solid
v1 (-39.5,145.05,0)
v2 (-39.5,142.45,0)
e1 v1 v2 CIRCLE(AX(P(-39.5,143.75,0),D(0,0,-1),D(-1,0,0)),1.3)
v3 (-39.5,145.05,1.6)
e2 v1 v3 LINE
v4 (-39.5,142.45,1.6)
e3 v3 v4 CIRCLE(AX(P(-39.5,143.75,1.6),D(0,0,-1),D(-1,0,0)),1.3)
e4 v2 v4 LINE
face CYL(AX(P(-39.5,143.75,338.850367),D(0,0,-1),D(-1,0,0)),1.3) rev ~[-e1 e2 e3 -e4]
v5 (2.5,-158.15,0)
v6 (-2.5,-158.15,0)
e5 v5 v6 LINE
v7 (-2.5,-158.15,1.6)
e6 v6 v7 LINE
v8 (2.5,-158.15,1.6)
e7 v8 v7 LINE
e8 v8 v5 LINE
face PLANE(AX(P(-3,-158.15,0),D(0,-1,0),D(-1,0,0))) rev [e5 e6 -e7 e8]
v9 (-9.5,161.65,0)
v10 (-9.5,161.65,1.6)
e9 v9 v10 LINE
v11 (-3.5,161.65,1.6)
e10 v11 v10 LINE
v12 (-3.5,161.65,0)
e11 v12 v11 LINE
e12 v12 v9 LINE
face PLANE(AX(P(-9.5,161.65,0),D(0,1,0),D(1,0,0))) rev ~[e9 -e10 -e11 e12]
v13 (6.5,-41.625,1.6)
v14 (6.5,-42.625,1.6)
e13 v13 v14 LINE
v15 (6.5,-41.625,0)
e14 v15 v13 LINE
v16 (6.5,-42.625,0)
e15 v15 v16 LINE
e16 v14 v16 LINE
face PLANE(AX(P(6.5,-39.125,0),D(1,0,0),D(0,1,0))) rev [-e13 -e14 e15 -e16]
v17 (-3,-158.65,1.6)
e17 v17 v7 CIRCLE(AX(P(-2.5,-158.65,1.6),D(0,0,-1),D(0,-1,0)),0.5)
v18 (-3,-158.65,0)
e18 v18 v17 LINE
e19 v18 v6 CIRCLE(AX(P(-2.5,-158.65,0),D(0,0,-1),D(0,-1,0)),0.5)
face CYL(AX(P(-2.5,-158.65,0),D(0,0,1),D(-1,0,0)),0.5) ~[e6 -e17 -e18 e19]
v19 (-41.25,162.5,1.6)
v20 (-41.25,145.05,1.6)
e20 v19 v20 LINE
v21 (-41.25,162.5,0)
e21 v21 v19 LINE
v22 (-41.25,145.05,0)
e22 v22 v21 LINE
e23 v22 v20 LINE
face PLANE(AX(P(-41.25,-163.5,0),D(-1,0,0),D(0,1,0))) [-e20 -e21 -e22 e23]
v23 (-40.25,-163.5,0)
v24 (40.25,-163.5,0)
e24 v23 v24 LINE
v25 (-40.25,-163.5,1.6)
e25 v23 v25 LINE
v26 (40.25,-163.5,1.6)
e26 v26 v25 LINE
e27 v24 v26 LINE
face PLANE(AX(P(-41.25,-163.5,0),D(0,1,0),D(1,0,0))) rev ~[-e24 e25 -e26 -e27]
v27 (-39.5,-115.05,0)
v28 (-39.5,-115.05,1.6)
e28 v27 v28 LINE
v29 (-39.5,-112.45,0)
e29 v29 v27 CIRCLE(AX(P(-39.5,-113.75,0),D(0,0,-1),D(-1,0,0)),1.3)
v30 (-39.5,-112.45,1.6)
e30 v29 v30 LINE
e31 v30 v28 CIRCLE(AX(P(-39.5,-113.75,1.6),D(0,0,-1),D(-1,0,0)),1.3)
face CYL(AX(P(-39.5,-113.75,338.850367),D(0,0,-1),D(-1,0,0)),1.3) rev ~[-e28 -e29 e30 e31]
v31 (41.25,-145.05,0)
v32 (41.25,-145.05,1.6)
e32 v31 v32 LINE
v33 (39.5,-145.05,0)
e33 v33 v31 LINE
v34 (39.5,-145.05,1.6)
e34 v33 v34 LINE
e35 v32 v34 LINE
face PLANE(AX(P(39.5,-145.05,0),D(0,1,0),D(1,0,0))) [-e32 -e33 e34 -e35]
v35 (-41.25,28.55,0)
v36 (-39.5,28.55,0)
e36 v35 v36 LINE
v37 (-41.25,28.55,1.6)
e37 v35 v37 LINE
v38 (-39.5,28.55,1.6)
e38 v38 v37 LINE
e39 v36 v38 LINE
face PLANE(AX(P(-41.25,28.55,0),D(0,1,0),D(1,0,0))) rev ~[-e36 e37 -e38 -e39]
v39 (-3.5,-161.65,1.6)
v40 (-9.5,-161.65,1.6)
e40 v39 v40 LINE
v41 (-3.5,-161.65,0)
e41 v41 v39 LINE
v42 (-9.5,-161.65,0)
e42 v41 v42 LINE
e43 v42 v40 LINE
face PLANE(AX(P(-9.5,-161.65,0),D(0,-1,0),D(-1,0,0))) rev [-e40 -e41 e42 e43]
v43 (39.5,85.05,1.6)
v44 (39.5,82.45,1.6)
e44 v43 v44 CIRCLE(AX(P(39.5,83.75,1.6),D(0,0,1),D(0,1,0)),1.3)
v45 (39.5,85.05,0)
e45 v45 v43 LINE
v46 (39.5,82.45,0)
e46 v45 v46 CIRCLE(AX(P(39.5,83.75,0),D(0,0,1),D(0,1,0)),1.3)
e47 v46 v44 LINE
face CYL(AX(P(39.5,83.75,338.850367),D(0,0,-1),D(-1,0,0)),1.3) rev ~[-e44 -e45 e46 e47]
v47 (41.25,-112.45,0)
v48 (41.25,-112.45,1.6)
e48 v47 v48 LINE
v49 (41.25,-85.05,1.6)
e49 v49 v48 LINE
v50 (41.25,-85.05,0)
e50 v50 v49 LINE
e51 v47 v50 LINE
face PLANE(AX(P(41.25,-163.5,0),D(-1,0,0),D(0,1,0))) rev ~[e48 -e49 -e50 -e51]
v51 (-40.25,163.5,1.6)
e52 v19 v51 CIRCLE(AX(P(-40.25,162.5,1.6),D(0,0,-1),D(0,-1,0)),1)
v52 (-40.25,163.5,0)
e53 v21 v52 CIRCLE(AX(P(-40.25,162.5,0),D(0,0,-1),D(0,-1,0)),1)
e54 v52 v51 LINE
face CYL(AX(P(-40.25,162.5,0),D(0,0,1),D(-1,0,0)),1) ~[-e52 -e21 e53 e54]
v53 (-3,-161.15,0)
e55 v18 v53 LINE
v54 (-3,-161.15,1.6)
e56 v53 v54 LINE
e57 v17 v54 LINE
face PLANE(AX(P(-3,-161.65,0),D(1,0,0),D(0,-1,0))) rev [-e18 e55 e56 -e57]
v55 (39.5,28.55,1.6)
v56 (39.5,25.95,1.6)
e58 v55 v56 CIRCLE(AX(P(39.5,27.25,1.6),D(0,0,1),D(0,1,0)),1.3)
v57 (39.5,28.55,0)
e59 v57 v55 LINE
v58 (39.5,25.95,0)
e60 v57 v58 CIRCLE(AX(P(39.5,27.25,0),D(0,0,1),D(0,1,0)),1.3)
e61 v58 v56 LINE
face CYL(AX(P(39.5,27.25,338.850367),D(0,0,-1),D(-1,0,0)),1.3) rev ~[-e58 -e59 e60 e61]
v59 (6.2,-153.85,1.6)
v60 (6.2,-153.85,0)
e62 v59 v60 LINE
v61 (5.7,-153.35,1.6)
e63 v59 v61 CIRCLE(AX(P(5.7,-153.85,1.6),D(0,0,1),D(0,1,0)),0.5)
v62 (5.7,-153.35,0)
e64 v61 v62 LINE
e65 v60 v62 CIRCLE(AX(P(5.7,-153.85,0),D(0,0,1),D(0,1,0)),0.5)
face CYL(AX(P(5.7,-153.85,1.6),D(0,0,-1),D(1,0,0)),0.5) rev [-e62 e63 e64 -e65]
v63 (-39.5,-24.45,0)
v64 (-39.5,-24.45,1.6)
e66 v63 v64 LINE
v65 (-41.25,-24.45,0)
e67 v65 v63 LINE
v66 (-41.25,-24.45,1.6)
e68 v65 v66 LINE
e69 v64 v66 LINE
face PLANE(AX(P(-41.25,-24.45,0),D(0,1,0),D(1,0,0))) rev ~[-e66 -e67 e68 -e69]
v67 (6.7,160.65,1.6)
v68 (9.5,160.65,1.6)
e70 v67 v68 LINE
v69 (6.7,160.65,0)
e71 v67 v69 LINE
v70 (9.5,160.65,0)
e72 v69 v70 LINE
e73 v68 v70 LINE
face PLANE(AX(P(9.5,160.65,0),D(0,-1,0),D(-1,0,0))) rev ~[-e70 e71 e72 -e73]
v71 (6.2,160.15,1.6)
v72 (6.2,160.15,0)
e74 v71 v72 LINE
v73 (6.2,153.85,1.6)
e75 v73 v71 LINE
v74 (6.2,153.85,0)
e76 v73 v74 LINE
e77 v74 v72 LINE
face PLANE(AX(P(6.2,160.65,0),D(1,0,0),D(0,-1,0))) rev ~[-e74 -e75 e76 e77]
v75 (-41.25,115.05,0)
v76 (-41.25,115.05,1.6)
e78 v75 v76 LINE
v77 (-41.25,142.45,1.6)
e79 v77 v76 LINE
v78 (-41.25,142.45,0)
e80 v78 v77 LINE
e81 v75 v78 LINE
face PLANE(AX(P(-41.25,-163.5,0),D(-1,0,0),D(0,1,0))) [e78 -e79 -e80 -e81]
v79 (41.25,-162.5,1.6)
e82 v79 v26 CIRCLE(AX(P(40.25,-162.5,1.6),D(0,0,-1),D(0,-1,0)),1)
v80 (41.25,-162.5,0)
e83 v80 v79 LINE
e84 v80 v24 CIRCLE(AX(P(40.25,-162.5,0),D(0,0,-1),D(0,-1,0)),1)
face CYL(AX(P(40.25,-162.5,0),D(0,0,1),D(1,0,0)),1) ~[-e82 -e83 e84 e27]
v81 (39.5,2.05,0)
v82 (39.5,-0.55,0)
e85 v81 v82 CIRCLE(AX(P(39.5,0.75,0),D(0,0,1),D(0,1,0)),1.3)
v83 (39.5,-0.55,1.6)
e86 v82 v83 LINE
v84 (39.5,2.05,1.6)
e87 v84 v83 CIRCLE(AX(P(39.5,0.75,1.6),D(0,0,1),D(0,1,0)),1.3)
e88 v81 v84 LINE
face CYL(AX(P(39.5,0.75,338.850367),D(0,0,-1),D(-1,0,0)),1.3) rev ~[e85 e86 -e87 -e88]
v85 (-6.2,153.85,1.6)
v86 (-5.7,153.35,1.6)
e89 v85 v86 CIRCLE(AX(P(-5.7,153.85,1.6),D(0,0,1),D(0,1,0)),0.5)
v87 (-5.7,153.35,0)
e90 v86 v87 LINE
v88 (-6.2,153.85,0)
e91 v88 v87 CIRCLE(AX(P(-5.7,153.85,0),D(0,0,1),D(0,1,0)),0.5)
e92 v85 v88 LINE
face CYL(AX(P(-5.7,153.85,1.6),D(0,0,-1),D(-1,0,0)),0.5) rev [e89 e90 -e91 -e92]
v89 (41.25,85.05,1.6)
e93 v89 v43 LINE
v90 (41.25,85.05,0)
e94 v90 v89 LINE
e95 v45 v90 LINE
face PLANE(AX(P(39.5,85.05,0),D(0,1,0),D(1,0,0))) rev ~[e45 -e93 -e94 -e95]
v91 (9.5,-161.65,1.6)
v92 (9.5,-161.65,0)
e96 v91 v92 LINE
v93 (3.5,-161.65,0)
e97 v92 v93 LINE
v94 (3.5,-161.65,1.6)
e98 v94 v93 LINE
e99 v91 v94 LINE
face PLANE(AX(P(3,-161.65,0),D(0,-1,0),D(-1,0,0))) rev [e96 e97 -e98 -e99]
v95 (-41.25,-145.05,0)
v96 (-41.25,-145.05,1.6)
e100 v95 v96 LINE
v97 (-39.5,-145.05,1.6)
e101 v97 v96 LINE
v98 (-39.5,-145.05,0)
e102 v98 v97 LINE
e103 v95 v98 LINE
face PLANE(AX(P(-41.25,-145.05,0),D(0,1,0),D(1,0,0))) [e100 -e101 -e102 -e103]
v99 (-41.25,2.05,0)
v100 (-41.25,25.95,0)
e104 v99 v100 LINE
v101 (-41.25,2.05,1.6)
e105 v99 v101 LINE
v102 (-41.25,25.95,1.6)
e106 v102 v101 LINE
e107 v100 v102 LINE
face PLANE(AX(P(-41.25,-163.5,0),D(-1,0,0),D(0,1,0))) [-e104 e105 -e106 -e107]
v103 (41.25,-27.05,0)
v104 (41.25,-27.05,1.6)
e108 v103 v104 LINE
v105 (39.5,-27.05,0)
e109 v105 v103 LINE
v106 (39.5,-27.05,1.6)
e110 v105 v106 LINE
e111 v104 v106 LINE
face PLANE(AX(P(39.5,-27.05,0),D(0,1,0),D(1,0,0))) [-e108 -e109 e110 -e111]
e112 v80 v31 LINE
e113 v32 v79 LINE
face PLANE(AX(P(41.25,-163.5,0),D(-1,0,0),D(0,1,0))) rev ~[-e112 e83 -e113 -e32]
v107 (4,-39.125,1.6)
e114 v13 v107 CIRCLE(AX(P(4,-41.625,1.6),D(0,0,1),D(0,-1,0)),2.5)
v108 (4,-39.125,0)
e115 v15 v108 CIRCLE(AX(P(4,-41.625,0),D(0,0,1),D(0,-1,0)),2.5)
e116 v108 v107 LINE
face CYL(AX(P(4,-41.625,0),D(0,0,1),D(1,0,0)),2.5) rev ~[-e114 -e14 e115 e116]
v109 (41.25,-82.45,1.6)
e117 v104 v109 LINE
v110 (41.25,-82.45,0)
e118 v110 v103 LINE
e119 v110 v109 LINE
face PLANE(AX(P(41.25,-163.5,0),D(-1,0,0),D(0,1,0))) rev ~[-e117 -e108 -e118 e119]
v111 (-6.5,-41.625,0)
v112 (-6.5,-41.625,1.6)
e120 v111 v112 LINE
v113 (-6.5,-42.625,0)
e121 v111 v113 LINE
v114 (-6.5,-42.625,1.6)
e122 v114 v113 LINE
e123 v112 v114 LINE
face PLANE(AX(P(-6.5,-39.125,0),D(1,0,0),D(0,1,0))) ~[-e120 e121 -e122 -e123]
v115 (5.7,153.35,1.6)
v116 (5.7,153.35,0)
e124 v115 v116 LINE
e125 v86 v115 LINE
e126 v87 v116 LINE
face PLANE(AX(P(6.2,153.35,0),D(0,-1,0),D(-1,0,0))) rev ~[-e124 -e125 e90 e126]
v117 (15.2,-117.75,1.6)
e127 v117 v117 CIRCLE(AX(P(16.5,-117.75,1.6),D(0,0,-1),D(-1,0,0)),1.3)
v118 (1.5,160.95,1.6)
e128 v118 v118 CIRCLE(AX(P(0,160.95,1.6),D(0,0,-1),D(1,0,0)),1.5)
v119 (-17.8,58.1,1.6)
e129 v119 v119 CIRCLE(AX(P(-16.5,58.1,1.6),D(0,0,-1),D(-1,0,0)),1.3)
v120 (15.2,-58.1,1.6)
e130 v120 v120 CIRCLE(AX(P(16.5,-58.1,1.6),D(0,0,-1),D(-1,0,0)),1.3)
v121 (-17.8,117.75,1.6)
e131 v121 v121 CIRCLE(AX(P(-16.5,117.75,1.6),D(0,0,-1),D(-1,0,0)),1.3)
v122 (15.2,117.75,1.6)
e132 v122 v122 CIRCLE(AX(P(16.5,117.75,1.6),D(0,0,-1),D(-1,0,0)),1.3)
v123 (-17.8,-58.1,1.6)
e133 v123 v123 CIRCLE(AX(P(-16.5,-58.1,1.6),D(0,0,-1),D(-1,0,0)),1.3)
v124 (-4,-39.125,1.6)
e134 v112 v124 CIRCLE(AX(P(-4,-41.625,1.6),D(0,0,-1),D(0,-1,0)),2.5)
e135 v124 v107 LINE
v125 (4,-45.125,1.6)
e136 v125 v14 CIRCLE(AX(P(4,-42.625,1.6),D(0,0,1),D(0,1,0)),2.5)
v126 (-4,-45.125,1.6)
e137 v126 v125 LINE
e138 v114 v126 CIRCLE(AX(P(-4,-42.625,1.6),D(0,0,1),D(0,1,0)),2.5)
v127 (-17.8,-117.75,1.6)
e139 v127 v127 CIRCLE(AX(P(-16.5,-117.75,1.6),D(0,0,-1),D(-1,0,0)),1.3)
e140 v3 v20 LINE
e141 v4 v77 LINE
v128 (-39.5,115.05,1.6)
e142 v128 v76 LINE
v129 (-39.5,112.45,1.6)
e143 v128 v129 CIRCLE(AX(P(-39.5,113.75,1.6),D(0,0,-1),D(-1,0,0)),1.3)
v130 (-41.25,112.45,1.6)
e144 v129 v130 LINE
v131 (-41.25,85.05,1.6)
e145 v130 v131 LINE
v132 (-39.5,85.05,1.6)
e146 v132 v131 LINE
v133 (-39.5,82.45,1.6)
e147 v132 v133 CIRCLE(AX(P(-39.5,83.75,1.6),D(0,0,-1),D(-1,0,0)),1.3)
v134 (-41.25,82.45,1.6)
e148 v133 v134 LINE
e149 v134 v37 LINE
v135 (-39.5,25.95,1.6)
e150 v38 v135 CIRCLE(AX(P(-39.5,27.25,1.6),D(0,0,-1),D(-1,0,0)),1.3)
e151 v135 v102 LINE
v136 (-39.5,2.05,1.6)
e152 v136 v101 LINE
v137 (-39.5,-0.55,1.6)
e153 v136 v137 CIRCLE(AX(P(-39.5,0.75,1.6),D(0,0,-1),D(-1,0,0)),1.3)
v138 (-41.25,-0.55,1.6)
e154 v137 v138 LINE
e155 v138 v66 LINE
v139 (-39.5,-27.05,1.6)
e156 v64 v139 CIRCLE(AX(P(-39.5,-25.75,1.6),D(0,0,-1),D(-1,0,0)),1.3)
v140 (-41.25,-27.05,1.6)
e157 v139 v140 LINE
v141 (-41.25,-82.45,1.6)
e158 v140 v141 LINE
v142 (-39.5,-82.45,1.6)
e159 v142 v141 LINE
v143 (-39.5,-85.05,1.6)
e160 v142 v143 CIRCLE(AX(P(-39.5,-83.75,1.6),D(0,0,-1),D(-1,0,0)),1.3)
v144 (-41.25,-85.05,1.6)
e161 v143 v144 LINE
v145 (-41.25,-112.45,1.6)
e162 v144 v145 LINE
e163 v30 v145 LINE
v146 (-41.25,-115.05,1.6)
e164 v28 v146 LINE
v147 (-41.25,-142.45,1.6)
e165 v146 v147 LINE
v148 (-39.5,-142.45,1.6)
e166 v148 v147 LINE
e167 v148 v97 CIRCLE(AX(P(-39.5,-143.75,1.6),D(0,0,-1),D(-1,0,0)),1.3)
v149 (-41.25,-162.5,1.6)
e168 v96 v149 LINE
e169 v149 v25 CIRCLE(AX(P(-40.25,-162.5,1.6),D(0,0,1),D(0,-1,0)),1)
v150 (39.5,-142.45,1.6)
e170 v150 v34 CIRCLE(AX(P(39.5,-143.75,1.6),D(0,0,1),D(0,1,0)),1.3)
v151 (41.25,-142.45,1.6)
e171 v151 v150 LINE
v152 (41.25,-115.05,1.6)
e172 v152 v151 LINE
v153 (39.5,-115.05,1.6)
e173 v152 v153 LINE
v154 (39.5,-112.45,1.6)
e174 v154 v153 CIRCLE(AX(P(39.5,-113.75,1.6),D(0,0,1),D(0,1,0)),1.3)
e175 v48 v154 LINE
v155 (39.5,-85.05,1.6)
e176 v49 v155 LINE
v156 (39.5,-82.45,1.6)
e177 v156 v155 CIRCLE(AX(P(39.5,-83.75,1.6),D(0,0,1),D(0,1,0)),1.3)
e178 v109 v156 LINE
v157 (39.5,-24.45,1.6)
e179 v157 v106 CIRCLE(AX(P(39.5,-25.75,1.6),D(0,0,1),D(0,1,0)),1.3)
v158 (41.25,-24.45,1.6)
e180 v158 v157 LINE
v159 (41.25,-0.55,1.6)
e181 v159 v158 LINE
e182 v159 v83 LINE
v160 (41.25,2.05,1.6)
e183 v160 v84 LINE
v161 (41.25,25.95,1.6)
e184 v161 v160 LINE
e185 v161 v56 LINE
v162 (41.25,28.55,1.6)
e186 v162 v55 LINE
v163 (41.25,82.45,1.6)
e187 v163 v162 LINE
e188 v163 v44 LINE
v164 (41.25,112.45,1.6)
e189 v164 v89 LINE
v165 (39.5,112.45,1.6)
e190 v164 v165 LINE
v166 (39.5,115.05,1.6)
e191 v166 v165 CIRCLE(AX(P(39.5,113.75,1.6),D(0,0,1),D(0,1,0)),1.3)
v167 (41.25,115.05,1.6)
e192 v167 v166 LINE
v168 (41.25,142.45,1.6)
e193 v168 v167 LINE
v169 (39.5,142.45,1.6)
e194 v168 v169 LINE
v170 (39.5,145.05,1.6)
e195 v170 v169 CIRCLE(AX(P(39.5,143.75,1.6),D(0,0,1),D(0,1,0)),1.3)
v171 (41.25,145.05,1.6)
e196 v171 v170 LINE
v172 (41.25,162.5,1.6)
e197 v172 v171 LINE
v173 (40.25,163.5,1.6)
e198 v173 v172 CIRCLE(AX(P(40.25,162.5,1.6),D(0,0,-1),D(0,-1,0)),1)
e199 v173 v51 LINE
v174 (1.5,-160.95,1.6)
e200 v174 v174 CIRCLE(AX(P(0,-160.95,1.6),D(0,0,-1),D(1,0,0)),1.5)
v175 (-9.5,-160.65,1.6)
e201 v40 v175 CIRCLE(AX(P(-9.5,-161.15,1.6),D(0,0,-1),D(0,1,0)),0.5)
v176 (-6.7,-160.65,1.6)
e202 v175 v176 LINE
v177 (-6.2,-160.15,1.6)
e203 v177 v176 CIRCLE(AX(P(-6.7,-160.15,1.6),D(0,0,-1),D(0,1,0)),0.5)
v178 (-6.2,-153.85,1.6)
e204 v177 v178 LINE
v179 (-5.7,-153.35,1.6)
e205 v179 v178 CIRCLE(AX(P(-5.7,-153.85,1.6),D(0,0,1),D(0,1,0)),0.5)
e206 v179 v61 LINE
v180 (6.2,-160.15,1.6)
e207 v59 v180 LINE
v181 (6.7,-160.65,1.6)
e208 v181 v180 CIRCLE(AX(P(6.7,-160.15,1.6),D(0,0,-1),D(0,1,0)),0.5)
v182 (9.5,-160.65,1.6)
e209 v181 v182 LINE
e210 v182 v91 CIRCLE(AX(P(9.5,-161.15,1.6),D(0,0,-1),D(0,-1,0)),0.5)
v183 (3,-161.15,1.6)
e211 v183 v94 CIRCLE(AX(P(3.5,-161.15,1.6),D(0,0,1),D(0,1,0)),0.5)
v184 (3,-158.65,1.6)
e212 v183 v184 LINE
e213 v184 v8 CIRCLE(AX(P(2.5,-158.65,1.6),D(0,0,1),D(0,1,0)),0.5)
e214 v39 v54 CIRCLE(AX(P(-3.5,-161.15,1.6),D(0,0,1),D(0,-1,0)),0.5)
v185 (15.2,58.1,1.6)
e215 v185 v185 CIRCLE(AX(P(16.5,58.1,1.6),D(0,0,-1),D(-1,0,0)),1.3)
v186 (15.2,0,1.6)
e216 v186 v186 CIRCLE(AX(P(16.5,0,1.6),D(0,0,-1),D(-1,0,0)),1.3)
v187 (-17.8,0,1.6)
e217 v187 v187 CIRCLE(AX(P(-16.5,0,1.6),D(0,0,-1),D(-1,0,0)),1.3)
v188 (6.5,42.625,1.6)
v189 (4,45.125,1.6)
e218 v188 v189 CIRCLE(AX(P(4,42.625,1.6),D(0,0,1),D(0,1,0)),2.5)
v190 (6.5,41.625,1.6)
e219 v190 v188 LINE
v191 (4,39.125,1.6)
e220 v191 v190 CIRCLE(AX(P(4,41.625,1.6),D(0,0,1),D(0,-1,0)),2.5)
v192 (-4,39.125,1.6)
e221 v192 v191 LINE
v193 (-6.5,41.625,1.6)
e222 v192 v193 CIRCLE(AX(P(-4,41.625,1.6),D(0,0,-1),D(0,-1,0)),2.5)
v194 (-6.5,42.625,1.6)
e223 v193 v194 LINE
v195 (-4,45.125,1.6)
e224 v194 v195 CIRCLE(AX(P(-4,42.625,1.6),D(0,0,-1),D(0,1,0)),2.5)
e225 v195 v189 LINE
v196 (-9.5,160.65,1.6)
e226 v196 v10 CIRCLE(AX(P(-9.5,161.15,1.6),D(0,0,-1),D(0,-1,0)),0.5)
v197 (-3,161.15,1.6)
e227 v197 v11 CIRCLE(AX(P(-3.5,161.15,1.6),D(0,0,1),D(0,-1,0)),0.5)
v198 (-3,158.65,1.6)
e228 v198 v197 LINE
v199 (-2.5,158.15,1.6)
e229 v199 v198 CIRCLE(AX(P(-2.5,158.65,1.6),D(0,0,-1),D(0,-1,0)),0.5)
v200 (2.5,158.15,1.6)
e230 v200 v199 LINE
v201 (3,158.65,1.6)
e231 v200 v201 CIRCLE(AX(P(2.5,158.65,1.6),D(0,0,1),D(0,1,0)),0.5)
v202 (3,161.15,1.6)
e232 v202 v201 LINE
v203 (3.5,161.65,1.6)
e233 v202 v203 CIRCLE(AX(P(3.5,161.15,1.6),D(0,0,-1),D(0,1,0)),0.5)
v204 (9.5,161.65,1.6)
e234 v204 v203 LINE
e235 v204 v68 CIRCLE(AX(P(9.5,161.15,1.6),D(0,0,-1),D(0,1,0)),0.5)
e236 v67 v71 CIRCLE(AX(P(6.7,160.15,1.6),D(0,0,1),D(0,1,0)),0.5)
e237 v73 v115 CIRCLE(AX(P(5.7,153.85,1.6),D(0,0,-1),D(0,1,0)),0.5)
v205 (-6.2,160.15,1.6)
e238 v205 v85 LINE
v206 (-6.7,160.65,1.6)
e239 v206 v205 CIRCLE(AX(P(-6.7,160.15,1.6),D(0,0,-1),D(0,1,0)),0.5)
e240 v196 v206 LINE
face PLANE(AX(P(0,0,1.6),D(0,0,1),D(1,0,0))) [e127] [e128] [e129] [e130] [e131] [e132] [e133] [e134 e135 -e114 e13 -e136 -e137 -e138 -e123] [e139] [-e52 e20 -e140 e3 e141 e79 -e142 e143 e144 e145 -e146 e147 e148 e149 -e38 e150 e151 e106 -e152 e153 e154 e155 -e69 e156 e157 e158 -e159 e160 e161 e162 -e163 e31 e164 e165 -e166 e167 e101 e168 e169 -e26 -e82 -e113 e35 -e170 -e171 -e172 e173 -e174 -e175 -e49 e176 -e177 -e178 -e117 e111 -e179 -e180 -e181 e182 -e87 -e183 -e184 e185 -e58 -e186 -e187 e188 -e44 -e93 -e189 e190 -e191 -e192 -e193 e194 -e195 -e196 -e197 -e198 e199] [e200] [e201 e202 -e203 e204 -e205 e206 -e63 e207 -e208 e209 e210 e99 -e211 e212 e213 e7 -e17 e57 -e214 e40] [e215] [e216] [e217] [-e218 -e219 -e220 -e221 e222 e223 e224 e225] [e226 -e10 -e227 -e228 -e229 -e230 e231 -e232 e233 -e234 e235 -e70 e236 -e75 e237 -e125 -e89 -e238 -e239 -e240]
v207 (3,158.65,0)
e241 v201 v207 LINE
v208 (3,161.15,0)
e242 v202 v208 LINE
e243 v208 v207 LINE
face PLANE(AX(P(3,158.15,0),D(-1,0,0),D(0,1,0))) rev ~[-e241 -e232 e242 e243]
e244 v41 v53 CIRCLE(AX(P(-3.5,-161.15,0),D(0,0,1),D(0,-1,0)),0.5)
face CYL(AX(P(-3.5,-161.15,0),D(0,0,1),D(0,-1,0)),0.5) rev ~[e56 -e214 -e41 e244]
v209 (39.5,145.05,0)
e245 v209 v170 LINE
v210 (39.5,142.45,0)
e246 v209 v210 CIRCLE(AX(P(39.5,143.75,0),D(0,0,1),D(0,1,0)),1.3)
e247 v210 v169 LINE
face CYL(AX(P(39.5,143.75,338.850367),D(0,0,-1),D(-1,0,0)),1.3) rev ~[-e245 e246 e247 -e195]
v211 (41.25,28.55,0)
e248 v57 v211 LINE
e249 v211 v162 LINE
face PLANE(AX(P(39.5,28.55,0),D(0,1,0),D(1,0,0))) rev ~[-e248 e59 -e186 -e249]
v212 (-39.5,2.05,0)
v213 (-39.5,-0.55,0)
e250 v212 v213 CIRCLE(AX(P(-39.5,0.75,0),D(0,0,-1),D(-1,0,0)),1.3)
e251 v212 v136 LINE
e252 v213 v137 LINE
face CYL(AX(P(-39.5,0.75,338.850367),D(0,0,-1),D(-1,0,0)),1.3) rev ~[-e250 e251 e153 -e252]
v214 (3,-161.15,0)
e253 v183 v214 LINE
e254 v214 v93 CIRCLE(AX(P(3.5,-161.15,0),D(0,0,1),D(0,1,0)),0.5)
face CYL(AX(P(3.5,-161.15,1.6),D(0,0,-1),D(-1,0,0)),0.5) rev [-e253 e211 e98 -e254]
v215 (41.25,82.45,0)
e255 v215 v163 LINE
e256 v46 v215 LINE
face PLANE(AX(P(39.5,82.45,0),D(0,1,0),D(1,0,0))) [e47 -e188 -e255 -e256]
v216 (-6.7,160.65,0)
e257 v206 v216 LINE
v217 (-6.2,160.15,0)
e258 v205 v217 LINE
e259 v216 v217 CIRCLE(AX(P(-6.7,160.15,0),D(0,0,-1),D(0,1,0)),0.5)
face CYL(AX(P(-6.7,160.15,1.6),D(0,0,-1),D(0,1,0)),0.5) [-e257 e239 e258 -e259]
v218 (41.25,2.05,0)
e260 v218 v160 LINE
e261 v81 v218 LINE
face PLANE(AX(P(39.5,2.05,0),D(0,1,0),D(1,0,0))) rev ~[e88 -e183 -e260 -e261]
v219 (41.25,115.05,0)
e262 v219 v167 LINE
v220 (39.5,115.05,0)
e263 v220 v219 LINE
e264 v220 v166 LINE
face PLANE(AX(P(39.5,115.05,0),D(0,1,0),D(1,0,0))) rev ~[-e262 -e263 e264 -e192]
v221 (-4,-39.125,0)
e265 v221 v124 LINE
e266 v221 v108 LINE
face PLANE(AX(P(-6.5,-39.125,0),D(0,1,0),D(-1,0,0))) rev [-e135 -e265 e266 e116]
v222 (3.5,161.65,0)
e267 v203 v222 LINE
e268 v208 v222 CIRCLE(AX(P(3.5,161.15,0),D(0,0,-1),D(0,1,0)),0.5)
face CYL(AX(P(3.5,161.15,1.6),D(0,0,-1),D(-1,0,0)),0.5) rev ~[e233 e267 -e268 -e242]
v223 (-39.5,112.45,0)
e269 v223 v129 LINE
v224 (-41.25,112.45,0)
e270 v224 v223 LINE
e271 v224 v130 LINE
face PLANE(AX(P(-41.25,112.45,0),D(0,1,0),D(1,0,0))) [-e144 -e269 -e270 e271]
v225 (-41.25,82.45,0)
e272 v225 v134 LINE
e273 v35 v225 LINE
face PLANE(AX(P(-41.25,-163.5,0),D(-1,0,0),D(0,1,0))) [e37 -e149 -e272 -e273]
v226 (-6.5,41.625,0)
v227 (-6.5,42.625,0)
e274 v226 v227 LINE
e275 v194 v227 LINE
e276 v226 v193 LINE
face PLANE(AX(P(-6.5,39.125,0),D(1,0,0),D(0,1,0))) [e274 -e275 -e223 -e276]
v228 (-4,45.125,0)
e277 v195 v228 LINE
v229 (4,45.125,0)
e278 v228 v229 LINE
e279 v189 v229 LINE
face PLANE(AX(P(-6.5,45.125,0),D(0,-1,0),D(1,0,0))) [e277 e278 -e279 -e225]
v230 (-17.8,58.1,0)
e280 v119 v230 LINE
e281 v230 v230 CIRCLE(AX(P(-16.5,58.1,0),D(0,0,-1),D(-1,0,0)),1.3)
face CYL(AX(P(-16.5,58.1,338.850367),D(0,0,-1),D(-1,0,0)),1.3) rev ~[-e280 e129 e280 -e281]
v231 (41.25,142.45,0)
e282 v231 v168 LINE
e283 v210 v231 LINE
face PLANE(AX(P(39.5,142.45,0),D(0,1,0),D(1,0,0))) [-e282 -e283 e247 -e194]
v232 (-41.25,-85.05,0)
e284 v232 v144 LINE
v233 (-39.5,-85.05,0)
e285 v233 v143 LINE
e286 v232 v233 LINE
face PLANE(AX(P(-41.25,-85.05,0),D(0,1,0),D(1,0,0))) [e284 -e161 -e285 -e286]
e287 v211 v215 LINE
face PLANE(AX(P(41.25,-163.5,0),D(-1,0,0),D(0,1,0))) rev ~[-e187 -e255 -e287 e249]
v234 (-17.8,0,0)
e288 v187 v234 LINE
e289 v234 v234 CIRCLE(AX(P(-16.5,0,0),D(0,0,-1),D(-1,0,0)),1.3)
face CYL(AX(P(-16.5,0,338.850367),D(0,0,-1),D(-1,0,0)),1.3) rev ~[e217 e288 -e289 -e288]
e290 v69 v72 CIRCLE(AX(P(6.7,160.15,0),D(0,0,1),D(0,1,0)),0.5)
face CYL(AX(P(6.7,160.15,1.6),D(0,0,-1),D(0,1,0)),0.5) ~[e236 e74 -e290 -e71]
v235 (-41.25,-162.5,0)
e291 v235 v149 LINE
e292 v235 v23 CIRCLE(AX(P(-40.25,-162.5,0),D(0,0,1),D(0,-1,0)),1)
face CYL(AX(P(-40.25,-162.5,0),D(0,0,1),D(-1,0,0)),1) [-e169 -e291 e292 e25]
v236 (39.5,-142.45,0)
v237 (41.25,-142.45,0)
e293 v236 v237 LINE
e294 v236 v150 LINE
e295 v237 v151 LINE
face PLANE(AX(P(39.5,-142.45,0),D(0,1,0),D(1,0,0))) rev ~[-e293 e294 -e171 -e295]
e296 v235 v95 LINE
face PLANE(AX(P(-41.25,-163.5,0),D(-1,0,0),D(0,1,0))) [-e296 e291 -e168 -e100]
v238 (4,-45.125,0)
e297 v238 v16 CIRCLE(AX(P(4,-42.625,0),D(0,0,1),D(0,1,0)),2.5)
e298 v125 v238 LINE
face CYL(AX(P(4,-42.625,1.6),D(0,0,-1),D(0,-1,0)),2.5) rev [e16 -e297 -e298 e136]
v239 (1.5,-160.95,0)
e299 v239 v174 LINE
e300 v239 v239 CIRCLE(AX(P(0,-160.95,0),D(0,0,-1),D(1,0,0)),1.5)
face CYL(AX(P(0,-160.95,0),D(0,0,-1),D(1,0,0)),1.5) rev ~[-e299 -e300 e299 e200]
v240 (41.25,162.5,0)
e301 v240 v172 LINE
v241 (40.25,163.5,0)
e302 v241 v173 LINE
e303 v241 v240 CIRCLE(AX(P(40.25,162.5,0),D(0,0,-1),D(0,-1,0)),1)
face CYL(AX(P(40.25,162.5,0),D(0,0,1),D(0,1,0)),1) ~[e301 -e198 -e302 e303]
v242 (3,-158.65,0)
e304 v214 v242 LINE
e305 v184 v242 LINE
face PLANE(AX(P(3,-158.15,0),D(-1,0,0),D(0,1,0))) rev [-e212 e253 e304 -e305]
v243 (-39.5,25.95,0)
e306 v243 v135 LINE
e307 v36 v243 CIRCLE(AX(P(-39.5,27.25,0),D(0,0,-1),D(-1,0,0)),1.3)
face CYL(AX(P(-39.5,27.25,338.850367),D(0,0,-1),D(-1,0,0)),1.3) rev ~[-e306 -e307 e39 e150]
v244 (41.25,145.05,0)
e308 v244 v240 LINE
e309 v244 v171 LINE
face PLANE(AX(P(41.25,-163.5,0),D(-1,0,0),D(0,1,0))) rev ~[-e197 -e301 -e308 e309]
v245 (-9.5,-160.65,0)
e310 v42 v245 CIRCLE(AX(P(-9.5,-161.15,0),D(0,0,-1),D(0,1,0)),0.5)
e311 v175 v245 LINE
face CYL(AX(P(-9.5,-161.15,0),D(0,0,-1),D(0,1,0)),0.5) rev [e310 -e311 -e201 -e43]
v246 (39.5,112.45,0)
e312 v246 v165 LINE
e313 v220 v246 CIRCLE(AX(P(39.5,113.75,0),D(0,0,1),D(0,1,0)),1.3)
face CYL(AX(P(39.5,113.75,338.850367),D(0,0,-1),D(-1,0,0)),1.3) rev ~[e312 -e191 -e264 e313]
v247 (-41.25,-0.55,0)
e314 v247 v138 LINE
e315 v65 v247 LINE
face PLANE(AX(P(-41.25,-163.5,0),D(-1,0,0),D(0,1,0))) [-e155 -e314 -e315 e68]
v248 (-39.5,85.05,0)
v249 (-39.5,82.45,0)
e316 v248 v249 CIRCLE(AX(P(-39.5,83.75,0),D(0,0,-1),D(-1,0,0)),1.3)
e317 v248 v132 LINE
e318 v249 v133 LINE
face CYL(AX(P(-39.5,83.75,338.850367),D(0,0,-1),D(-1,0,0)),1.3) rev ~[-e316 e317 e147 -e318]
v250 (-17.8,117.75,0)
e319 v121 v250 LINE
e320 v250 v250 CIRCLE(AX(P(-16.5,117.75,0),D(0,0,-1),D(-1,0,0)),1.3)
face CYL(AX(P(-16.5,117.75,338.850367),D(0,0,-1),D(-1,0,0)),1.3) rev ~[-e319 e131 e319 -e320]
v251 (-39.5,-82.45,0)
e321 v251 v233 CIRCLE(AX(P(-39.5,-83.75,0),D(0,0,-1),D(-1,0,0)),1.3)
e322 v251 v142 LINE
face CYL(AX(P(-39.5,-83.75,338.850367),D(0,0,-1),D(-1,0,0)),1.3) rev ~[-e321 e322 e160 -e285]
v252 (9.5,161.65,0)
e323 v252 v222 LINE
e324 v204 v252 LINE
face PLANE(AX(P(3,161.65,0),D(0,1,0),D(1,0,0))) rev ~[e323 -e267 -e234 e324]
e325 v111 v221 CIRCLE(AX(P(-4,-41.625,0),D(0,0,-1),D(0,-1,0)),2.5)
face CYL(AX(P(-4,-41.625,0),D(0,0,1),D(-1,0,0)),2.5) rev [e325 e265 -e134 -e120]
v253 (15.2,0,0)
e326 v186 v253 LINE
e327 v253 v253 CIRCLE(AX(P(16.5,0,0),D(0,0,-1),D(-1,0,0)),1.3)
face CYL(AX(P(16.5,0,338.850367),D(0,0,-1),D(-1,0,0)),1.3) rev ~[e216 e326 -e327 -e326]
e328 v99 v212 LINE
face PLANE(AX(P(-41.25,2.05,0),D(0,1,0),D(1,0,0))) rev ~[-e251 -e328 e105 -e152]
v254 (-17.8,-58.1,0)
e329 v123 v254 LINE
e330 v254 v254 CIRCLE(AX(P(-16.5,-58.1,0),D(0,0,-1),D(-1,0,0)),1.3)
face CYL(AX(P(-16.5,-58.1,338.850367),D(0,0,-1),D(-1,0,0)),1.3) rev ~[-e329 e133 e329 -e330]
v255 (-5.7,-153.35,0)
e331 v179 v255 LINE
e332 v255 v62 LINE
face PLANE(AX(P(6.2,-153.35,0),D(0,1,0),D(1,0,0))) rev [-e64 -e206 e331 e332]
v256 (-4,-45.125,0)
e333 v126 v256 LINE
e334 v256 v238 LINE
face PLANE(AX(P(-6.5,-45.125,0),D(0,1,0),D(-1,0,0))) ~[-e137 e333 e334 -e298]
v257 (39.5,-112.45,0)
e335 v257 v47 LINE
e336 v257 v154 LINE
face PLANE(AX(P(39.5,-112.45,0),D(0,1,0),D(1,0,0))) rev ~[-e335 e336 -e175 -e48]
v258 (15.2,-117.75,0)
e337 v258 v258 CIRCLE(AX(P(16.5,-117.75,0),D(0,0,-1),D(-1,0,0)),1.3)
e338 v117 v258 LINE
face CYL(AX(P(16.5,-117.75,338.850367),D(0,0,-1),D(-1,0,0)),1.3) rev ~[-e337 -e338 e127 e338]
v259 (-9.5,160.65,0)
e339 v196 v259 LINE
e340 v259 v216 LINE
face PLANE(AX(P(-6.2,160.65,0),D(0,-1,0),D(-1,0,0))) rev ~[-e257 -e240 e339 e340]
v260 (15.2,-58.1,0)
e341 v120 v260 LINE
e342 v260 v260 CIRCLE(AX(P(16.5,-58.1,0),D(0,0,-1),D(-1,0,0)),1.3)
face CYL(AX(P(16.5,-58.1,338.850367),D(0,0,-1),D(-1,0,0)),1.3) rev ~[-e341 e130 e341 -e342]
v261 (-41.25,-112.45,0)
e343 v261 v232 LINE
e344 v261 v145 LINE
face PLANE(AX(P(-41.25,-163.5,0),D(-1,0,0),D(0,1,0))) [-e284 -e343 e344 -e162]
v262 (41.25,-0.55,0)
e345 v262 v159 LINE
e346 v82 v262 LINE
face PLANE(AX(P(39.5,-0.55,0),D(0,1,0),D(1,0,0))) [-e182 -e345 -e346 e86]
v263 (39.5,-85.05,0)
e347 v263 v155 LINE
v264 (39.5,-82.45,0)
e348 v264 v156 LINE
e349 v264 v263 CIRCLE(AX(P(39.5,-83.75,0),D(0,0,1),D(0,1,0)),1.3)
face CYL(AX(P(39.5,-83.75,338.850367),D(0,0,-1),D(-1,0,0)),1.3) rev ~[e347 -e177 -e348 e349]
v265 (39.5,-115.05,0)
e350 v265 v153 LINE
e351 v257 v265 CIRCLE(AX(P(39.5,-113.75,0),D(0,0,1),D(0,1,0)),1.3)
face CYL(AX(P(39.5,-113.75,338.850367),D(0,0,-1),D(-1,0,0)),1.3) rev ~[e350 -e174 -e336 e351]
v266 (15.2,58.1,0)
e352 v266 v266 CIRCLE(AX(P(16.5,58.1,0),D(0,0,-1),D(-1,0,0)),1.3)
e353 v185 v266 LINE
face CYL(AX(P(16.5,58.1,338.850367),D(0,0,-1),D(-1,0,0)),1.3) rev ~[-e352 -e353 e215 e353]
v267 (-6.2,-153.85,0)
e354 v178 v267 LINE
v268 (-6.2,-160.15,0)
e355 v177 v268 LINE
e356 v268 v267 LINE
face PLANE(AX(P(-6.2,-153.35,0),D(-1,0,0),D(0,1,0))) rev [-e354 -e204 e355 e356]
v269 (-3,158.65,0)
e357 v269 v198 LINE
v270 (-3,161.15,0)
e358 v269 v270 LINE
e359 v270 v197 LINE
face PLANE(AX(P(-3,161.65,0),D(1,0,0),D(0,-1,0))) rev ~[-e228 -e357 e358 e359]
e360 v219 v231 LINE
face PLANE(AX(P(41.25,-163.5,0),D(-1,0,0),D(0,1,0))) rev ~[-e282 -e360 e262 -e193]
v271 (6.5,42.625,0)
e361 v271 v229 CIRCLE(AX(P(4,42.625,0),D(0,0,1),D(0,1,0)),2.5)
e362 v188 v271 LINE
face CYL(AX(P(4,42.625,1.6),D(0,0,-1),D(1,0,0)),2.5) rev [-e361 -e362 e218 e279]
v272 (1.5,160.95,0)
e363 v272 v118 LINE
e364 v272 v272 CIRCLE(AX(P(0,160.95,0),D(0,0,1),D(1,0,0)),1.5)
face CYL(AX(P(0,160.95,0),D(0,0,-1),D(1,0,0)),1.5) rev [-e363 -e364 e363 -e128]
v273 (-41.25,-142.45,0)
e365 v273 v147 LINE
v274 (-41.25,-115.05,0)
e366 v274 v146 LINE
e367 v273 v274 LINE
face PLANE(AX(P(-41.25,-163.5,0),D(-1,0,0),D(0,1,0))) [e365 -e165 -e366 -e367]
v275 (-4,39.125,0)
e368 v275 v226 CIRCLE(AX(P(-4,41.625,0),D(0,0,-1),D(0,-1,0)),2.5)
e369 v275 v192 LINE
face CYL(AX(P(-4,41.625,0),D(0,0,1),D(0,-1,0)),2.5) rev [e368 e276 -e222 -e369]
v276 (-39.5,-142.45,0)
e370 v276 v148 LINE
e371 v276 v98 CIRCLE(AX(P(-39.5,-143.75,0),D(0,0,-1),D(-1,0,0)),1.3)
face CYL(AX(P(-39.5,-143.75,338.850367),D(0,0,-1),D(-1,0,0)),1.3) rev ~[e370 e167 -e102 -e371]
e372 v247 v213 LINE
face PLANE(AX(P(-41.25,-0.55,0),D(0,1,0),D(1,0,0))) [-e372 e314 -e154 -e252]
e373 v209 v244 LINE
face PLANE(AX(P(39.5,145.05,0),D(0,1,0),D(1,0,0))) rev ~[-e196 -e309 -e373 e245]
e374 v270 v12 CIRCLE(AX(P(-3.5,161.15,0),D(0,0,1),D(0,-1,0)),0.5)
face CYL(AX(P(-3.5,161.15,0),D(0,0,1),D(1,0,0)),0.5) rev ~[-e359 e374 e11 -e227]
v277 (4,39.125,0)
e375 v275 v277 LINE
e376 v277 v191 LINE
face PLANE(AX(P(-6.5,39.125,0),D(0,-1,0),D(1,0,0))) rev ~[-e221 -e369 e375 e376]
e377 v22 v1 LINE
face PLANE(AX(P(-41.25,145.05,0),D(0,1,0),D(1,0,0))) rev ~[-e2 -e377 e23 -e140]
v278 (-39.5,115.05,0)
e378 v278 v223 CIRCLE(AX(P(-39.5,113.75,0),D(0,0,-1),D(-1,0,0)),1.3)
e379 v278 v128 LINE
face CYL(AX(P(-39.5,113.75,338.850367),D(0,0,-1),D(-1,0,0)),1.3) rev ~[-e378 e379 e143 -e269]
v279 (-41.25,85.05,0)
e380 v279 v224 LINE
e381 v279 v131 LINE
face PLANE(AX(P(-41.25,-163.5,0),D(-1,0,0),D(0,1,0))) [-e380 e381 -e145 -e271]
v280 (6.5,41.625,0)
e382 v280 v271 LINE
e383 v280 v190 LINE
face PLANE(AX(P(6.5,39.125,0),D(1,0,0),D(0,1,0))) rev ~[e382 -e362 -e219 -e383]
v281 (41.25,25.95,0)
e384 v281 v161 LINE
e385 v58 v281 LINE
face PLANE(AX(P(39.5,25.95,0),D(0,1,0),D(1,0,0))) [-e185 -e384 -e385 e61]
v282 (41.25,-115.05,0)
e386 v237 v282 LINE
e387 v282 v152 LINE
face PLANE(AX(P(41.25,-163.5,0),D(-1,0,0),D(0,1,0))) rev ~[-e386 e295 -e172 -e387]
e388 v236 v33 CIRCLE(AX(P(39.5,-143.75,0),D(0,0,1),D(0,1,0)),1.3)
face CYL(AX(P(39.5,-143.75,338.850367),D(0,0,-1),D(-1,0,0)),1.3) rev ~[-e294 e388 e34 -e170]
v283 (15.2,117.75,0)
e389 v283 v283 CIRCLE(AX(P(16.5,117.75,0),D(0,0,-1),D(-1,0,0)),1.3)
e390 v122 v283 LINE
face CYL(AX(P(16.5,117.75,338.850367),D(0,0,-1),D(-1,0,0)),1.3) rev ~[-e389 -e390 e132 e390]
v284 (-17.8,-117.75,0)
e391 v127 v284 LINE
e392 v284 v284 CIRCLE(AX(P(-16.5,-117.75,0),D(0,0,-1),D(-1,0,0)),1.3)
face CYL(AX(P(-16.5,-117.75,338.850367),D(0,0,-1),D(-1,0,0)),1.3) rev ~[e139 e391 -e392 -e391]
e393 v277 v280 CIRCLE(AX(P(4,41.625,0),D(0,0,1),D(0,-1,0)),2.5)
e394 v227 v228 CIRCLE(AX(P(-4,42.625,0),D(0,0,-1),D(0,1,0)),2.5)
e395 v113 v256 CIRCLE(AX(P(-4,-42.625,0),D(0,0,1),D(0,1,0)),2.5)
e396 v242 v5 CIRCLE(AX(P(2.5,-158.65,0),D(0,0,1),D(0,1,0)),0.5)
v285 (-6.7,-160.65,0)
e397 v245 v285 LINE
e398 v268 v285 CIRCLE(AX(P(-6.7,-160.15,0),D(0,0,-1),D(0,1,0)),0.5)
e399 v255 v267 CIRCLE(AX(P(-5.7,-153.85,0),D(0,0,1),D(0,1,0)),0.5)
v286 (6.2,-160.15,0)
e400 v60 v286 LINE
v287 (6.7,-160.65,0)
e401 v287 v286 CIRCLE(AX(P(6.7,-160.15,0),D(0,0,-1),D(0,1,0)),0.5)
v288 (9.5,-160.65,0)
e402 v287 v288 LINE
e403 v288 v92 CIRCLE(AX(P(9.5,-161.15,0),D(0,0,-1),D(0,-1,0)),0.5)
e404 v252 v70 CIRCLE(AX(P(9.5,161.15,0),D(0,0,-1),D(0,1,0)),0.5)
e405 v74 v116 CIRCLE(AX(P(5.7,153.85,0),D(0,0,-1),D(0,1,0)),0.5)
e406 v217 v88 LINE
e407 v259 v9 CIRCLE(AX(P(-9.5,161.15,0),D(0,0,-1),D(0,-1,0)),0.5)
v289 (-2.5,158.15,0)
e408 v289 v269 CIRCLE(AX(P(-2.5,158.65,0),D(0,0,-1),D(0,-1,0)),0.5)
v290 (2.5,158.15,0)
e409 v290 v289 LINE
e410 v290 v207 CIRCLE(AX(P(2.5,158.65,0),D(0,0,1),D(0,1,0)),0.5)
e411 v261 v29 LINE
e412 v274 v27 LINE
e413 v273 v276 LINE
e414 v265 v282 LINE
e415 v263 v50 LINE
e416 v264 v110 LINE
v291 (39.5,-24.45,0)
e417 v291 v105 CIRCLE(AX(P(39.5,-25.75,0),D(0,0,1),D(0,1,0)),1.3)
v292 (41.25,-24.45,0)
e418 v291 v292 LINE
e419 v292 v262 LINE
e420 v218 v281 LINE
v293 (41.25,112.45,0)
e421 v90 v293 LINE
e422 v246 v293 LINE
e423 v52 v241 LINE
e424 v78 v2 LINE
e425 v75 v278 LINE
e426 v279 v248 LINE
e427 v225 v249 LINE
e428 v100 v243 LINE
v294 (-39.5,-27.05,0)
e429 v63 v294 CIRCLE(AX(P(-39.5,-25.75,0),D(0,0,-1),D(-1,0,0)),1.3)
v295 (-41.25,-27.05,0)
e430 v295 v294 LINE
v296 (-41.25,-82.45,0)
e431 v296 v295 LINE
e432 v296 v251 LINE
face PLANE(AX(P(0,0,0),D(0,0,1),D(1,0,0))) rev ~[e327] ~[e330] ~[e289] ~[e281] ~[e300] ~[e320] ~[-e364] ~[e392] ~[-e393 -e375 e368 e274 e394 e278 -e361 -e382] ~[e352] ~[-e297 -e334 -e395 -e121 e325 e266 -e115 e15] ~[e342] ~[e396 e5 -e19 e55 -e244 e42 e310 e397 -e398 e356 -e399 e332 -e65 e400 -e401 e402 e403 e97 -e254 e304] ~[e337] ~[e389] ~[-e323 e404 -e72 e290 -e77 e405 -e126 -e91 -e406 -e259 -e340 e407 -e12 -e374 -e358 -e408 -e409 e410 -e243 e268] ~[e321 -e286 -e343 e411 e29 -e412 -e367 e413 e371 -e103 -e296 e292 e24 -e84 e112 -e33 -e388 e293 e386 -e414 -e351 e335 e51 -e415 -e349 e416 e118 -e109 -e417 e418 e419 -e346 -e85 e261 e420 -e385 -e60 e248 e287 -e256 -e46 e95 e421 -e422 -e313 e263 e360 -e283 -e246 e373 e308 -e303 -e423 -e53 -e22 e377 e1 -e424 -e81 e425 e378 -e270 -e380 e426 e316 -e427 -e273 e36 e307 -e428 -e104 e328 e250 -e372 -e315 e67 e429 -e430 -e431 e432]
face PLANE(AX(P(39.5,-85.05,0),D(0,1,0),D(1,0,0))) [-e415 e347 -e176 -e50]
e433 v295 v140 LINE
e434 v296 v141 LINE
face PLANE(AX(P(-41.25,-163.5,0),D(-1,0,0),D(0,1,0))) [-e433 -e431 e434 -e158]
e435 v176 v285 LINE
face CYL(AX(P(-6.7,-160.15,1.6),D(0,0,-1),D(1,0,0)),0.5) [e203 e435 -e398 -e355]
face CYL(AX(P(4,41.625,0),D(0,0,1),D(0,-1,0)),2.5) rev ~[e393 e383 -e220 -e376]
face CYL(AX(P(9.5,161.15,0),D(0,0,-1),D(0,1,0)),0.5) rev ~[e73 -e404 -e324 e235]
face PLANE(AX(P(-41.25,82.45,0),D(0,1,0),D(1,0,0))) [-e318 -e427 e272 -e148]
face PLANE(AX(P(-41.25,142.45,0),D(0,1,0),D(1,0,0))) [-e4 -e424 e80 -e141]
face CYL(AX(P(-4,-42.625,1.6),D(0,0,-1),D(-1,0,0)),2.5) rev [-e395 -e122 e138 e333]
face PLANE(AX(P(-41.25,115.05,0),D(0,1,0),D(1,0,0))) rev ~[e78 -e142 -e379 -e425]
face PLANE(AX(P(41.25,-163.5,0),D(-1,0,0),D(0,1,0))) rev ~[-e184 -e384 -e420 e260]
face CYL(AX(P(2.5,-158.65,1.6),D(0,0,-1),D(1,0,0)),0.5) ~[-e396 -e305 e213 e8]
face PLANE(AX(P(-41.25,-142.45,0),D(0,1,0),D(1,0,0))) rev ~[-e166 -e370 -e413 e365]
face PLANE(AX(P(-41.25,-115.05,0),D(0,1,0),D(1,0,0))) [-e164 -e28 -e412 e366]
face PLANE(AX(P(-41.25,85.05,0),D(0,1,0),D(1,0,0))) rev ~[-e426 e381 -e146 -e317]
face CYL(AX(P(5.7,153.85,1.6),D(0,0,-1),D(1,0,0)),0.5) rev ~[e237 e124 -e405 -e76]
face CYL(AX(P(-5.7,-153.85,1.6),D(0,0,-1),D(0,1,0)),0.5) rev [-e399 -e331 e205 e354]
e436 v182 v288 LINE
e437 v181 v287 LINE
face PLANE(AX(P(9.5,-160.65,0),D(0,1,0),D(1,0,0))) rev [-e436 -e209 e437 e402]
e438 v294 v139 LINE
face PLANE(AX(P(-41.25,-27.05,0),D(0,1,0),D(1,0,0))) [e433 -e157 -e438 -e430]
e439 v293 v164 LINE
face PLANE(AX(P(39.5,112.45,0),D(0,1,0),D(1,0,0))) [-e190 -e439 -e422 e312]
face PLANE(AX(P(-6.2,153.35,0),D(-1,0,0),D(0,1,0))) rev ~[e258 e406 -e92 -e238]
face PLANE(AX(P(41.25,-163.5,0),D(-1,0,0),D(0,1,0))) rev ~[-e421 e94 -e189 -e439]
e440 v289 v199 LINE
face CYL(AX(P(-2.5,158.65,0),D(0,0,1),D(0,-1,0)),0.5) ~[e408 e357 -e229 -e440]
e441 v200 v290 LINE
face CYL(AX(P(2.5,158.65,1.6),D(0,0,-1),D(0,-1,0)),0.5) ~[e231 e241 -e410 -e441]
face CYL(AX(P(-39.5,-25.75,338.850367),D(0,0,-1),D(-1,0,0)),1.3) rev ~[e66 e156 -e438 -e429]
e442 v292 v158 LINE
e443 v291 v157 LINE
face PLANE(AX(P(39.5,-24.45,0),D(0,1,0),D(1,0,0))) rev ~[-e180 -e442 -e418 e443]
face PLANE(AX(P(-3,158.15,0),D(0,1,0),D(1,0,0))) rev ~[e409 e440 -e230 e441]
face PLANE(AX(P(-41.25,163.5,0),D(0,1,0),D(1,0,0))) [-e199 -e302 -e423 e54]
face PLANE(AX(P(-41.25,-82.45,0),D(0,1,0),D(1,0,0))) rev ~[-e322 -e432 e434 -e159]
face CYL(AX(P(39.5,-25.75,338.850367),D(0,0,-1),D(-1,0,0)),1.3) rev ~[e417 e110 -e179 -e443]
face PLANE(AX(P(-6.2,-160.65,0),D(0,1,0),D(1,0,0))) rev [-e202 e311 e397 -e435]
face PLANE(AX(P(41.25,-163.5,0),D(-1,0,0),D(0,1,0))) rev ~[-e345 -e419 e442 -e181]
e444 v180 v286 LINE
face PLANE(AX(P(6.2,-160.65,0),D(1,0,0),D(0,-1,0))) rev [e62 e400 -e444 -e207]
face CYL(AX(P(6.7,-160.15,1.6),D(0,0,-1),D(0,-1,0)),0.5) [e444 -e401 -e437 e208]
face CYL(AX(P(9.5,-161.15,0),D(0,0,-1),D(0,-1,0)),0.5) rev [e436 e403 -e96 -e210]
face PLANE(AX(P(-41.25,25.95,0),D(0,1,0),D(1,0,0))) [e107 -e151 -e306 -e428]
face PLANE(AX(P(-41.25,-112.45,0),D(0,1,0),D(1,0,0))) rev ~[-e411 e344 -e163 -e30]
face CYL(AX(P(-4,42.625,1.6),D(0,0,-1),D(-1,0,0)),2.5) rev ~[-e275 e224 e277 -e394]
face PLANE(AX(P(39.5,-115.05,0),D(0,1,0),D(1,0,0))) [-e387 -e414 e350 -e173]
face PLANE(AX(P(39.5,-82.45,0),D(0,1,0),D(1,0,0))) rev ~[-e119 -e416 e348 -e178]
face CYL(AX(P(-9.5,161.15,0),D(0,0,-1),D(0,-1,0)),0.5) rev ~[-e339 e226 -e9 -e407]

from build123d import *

# Parameters (mm, degrees)
SKETCH1_W            = 82.8
SKETCH1_H            = 327.3
PCB_EXTRUDE_DEPTH    = 1.6
SKETCH2_W            = 82.8
SKETCH2_H            = 327.3
SKETCH2_W_2          = 82.5
SKETCH2_H_2          = 327
OFFSET_EDGES_DEPTH   = 10
CORNER_FILLETS_R     = 1
SKETCH3_R            = 1.5
SKETCH3_W            = 13
SKETCH3_H            = 6
SOLAR_HOLE_DEPTH     = 169.630876473
FILLET1_R            = 2.5
SOLAR_HOLE_FILLET_R  = 0.5
M2_CLEARANCE_HOLE1_D = 2.6
SKETCH9_W            = 1.75
SKETCH9_H            = 2.6
CUT_EXTRUDE1_DEPTH   = 169.630876473


with BuildPart() as part:
    # Sketch1 → PCB extrude (new body)
    with BuildSketch(Plane.XY):
        Rectangle(SKETCH1_W, SKETCH1_H)
    extrude(amount=PCB_EXTRUDE_DEPTH)

    # Sketch2 → offset edges (cut)
    with BuildSketch(Plane.XY):
        Rectangle(SKETCH2_W, SKETCH2_H)
        Rectangle(SKETCH2_W_2, SKETCH2_H_2, mode=Mode.SUBTRACT)
    extrude(amount=OFFSET_EDGES_DEPTH, mode=Mode.SUBTRACT)

    # corner fillets
    corner_fillets_edges = [part.edges().sort_by_distance(p)[0] for p in [
        (41.25, 163.5, 0.8),
        (-41.25, 163.5, 0.8),
        (-41.25, -163.5, 0.8),
        (41.25, -163.5, 0.8),
    ]]
    fillet(corner_fillets_edges, radius=CORNER_FILLETS_R)

    # Sketch3 → Solar hole (cut, symmetric)
    with BuildSketch(Plane.XY):
        with Locations((0, 160.95)):
            Circle(SKETCH3_R)
        with BuildLine():
            Line((-2.999999999, 158.15), (2.999999999, 158.15))
            Line((2.999999999, 158.15), (2.999999999, 161.65))
            Line((2.999999999, 161.65), (9.5, 161.65))
            ThreePointArc((9.5, 161.65), (10, 161.15), (9.5, 160.65))
            Line((9.5, 160.65), (6.2, 160.65))
            Line((6.2, 160.65), (6.2, 153.35))
            Line((6.2, 153.35), (-6.2, 153.35))
            Line((-6.2, 153.35), (-6.2, 160.65))
            Line((-6.2, 160.65), (-9.5, 160.65))
            ThreePointArc((-9.5, 160.65), (-10, 161.15), (-9.5, 161.65))
            Line((-9.5, 161.65), (-2.999999999, 161.65))
            Line((-2.999999999, 161.65), (-2.999999999, 158.15))
        make_face()
        with Locations((0, 42.125)):
            Rectangle(SKETCH3_W, SKETCH3_H)
    solar_hole = extrude(amount=SOLAR_HOLE_DEPTH, both=True, mode=Mode.SUBTRACT)

    # Solar hole mirror: Solar hole across plane
    add(solar_hole.mirror(Plane.ZX), mode=Mode.SUBTRACT)

    # Fillet1
    fillet1_edges = [part.edges().sort_by_distance(p)[0] for p in [
        (-6.5, -39.125, 0.8),
        (-6.5, -45.125, 0.8),
        (6.5, -45.125, 0.8),
        (6.5, -39.125, 0.8),
        (-6.5, 45.125, 0.8),
        (-6.5, 39.125, 0.8),
        (6.5, 39.125, 0.8),
        (6.5, 45.125, 0.8),
    ]]
    fillet(fillet1_edges, radius=FILLET1_R)

    # Solar Hole Fillet
    solar_hole_fillet_edges = [part.edges().sort_by_distance(p)[0] for p in [
        (2.999999999, 161.65, 0.8),
        (2.999999999, 158.15, 0.8),
        (-2.999999999, 158.15, 0.8),
        (-2.999999999, 161.65, 0.8),
        (-6.2, 160.65, 0.8),
        (-6.2, 153.35, 0.8),
        (6.2, 153.35, 0.8),
        (6.2, 160.65, 0.8),
        (6.2, -160.65, 0.8),
        (6.2, -153.35, 0.8),
        (-6.2, -153.35, 0.8),
        (-6.2, -160.65, 0.8),
        (-2.999999999, -161.65, 0.8),
        (-2.999999999, -158.15, 0.8),
        (2.999999999, -158.15, 0.8),
        (2.999999999, -161.65, 0.8),
    ]]
    fillet(solar_hole_fillet_edges, radius=SOLAR_HOLE_FILLET_R)

    # M2 Clearance Hole1 (through all)
    with Locations(Plane.XY.offset(1.6)):
        with Locations((-39.5, 143.75), (-39.5, 113.75), (-39.5, 83.75), (-39.5, 27.25), (-39.5, 0.75), (-39.5, -25.75), (-39.5, -83.75), (-39.5, -113.75), (-39.5, -143.75), (-16.5, -117.75), (16.5, -117.75), (39.5, -143.75), (39.5, -113.75), (39.5, -83.75), (16.5, -58.1), (-16.5, -58.1), (39.5, -25.75), (39.5, 0.75), (16.5, 0), (-16.5, 0), (39.5, 27.25), (16.5, 58.1), (-16.5, 58.1), (16.5, 117.75), (-16.5, 117.75), (39.5, 83.75), (39.5, 113.75), (39.5, 143.75)):
            Hole(M2_CLEARANCE_HOLE1_D / 2)

    # Sketch9 → Cut-Extrude1 (cut, through all)
    with BuildSketch(Plane.XY):
        with Locations((-40.375, 143.75)):
            Rectangle(SKETCH9_W, SKETCH9_H)
        with Locations((40.375, 143.75)):
            Rectangle(SKETCH9_W, SKETCH9_H)
        with Locations((40.375, 113.75)):
            Rectangle(SKETCH9_W, SKETCH9_H)
        with Locations((40.375, 83.75)):
            Rectangle(SKETCH9_W, SKETCH9_H)
        with Locations((-40.375, 113.75)):
            Rectangle(SKETCH9_W, SKETCH9_H)
        with Locations((-40.375, 83.75)):
            Rectangle(SKETCH9_W, SKETCH9_H)
        with Locations((40.375, 27.25)):
            Rectangle(SKETCH9_W, SKETCH9_H)
        with Locations((-40.375, 27.25)):
            Rectangle(SKETCH9_W, SKETCH9_H)
        with Locations((40.375, 0.75)):
            Rectangle(SKETCH9_W, SKETCH9_H)
        with Locations((-40.375, 0.75)):
            Rectangle(SKETCH9_W, SKETCH9_H)
        with Locations((40.375, -25.75)):
            Rectangle(SKETCH9_W, SKETCH9_H)
        with Locations((-40.375, -25.75)):
            Rectangle(SKETCH9_W, SKETCH9_H)
        with Locations((40.375, -83.75)):
            Rectangle(SKETCH9_W, SKETCH9_H)
        with Locations((-40.375, -83.75)):
            Rectangle(SKETCH9_W, SKETCH9_H)
        with Locations((40.375, -113.75)):
            Rectangle(SKETCH9_W, SKETCH9_H)
        with Locations((-40.375, -113.75)):
            Rectangle(SKETCH9_W, SKETCH9_H)
        with Locations((40.375, -143.75)):
            Rectangle(SKETCH9_W, SKETCH9_H)
        with Locations((-40.375, -143.75)):
            Rectangle(SKETCH9_W, SKETCH9_H)
    extrude(amount=CUT_EXTRUDE1_DEPTH, mode=Mode.SUBTRACT)


solid = part.part
